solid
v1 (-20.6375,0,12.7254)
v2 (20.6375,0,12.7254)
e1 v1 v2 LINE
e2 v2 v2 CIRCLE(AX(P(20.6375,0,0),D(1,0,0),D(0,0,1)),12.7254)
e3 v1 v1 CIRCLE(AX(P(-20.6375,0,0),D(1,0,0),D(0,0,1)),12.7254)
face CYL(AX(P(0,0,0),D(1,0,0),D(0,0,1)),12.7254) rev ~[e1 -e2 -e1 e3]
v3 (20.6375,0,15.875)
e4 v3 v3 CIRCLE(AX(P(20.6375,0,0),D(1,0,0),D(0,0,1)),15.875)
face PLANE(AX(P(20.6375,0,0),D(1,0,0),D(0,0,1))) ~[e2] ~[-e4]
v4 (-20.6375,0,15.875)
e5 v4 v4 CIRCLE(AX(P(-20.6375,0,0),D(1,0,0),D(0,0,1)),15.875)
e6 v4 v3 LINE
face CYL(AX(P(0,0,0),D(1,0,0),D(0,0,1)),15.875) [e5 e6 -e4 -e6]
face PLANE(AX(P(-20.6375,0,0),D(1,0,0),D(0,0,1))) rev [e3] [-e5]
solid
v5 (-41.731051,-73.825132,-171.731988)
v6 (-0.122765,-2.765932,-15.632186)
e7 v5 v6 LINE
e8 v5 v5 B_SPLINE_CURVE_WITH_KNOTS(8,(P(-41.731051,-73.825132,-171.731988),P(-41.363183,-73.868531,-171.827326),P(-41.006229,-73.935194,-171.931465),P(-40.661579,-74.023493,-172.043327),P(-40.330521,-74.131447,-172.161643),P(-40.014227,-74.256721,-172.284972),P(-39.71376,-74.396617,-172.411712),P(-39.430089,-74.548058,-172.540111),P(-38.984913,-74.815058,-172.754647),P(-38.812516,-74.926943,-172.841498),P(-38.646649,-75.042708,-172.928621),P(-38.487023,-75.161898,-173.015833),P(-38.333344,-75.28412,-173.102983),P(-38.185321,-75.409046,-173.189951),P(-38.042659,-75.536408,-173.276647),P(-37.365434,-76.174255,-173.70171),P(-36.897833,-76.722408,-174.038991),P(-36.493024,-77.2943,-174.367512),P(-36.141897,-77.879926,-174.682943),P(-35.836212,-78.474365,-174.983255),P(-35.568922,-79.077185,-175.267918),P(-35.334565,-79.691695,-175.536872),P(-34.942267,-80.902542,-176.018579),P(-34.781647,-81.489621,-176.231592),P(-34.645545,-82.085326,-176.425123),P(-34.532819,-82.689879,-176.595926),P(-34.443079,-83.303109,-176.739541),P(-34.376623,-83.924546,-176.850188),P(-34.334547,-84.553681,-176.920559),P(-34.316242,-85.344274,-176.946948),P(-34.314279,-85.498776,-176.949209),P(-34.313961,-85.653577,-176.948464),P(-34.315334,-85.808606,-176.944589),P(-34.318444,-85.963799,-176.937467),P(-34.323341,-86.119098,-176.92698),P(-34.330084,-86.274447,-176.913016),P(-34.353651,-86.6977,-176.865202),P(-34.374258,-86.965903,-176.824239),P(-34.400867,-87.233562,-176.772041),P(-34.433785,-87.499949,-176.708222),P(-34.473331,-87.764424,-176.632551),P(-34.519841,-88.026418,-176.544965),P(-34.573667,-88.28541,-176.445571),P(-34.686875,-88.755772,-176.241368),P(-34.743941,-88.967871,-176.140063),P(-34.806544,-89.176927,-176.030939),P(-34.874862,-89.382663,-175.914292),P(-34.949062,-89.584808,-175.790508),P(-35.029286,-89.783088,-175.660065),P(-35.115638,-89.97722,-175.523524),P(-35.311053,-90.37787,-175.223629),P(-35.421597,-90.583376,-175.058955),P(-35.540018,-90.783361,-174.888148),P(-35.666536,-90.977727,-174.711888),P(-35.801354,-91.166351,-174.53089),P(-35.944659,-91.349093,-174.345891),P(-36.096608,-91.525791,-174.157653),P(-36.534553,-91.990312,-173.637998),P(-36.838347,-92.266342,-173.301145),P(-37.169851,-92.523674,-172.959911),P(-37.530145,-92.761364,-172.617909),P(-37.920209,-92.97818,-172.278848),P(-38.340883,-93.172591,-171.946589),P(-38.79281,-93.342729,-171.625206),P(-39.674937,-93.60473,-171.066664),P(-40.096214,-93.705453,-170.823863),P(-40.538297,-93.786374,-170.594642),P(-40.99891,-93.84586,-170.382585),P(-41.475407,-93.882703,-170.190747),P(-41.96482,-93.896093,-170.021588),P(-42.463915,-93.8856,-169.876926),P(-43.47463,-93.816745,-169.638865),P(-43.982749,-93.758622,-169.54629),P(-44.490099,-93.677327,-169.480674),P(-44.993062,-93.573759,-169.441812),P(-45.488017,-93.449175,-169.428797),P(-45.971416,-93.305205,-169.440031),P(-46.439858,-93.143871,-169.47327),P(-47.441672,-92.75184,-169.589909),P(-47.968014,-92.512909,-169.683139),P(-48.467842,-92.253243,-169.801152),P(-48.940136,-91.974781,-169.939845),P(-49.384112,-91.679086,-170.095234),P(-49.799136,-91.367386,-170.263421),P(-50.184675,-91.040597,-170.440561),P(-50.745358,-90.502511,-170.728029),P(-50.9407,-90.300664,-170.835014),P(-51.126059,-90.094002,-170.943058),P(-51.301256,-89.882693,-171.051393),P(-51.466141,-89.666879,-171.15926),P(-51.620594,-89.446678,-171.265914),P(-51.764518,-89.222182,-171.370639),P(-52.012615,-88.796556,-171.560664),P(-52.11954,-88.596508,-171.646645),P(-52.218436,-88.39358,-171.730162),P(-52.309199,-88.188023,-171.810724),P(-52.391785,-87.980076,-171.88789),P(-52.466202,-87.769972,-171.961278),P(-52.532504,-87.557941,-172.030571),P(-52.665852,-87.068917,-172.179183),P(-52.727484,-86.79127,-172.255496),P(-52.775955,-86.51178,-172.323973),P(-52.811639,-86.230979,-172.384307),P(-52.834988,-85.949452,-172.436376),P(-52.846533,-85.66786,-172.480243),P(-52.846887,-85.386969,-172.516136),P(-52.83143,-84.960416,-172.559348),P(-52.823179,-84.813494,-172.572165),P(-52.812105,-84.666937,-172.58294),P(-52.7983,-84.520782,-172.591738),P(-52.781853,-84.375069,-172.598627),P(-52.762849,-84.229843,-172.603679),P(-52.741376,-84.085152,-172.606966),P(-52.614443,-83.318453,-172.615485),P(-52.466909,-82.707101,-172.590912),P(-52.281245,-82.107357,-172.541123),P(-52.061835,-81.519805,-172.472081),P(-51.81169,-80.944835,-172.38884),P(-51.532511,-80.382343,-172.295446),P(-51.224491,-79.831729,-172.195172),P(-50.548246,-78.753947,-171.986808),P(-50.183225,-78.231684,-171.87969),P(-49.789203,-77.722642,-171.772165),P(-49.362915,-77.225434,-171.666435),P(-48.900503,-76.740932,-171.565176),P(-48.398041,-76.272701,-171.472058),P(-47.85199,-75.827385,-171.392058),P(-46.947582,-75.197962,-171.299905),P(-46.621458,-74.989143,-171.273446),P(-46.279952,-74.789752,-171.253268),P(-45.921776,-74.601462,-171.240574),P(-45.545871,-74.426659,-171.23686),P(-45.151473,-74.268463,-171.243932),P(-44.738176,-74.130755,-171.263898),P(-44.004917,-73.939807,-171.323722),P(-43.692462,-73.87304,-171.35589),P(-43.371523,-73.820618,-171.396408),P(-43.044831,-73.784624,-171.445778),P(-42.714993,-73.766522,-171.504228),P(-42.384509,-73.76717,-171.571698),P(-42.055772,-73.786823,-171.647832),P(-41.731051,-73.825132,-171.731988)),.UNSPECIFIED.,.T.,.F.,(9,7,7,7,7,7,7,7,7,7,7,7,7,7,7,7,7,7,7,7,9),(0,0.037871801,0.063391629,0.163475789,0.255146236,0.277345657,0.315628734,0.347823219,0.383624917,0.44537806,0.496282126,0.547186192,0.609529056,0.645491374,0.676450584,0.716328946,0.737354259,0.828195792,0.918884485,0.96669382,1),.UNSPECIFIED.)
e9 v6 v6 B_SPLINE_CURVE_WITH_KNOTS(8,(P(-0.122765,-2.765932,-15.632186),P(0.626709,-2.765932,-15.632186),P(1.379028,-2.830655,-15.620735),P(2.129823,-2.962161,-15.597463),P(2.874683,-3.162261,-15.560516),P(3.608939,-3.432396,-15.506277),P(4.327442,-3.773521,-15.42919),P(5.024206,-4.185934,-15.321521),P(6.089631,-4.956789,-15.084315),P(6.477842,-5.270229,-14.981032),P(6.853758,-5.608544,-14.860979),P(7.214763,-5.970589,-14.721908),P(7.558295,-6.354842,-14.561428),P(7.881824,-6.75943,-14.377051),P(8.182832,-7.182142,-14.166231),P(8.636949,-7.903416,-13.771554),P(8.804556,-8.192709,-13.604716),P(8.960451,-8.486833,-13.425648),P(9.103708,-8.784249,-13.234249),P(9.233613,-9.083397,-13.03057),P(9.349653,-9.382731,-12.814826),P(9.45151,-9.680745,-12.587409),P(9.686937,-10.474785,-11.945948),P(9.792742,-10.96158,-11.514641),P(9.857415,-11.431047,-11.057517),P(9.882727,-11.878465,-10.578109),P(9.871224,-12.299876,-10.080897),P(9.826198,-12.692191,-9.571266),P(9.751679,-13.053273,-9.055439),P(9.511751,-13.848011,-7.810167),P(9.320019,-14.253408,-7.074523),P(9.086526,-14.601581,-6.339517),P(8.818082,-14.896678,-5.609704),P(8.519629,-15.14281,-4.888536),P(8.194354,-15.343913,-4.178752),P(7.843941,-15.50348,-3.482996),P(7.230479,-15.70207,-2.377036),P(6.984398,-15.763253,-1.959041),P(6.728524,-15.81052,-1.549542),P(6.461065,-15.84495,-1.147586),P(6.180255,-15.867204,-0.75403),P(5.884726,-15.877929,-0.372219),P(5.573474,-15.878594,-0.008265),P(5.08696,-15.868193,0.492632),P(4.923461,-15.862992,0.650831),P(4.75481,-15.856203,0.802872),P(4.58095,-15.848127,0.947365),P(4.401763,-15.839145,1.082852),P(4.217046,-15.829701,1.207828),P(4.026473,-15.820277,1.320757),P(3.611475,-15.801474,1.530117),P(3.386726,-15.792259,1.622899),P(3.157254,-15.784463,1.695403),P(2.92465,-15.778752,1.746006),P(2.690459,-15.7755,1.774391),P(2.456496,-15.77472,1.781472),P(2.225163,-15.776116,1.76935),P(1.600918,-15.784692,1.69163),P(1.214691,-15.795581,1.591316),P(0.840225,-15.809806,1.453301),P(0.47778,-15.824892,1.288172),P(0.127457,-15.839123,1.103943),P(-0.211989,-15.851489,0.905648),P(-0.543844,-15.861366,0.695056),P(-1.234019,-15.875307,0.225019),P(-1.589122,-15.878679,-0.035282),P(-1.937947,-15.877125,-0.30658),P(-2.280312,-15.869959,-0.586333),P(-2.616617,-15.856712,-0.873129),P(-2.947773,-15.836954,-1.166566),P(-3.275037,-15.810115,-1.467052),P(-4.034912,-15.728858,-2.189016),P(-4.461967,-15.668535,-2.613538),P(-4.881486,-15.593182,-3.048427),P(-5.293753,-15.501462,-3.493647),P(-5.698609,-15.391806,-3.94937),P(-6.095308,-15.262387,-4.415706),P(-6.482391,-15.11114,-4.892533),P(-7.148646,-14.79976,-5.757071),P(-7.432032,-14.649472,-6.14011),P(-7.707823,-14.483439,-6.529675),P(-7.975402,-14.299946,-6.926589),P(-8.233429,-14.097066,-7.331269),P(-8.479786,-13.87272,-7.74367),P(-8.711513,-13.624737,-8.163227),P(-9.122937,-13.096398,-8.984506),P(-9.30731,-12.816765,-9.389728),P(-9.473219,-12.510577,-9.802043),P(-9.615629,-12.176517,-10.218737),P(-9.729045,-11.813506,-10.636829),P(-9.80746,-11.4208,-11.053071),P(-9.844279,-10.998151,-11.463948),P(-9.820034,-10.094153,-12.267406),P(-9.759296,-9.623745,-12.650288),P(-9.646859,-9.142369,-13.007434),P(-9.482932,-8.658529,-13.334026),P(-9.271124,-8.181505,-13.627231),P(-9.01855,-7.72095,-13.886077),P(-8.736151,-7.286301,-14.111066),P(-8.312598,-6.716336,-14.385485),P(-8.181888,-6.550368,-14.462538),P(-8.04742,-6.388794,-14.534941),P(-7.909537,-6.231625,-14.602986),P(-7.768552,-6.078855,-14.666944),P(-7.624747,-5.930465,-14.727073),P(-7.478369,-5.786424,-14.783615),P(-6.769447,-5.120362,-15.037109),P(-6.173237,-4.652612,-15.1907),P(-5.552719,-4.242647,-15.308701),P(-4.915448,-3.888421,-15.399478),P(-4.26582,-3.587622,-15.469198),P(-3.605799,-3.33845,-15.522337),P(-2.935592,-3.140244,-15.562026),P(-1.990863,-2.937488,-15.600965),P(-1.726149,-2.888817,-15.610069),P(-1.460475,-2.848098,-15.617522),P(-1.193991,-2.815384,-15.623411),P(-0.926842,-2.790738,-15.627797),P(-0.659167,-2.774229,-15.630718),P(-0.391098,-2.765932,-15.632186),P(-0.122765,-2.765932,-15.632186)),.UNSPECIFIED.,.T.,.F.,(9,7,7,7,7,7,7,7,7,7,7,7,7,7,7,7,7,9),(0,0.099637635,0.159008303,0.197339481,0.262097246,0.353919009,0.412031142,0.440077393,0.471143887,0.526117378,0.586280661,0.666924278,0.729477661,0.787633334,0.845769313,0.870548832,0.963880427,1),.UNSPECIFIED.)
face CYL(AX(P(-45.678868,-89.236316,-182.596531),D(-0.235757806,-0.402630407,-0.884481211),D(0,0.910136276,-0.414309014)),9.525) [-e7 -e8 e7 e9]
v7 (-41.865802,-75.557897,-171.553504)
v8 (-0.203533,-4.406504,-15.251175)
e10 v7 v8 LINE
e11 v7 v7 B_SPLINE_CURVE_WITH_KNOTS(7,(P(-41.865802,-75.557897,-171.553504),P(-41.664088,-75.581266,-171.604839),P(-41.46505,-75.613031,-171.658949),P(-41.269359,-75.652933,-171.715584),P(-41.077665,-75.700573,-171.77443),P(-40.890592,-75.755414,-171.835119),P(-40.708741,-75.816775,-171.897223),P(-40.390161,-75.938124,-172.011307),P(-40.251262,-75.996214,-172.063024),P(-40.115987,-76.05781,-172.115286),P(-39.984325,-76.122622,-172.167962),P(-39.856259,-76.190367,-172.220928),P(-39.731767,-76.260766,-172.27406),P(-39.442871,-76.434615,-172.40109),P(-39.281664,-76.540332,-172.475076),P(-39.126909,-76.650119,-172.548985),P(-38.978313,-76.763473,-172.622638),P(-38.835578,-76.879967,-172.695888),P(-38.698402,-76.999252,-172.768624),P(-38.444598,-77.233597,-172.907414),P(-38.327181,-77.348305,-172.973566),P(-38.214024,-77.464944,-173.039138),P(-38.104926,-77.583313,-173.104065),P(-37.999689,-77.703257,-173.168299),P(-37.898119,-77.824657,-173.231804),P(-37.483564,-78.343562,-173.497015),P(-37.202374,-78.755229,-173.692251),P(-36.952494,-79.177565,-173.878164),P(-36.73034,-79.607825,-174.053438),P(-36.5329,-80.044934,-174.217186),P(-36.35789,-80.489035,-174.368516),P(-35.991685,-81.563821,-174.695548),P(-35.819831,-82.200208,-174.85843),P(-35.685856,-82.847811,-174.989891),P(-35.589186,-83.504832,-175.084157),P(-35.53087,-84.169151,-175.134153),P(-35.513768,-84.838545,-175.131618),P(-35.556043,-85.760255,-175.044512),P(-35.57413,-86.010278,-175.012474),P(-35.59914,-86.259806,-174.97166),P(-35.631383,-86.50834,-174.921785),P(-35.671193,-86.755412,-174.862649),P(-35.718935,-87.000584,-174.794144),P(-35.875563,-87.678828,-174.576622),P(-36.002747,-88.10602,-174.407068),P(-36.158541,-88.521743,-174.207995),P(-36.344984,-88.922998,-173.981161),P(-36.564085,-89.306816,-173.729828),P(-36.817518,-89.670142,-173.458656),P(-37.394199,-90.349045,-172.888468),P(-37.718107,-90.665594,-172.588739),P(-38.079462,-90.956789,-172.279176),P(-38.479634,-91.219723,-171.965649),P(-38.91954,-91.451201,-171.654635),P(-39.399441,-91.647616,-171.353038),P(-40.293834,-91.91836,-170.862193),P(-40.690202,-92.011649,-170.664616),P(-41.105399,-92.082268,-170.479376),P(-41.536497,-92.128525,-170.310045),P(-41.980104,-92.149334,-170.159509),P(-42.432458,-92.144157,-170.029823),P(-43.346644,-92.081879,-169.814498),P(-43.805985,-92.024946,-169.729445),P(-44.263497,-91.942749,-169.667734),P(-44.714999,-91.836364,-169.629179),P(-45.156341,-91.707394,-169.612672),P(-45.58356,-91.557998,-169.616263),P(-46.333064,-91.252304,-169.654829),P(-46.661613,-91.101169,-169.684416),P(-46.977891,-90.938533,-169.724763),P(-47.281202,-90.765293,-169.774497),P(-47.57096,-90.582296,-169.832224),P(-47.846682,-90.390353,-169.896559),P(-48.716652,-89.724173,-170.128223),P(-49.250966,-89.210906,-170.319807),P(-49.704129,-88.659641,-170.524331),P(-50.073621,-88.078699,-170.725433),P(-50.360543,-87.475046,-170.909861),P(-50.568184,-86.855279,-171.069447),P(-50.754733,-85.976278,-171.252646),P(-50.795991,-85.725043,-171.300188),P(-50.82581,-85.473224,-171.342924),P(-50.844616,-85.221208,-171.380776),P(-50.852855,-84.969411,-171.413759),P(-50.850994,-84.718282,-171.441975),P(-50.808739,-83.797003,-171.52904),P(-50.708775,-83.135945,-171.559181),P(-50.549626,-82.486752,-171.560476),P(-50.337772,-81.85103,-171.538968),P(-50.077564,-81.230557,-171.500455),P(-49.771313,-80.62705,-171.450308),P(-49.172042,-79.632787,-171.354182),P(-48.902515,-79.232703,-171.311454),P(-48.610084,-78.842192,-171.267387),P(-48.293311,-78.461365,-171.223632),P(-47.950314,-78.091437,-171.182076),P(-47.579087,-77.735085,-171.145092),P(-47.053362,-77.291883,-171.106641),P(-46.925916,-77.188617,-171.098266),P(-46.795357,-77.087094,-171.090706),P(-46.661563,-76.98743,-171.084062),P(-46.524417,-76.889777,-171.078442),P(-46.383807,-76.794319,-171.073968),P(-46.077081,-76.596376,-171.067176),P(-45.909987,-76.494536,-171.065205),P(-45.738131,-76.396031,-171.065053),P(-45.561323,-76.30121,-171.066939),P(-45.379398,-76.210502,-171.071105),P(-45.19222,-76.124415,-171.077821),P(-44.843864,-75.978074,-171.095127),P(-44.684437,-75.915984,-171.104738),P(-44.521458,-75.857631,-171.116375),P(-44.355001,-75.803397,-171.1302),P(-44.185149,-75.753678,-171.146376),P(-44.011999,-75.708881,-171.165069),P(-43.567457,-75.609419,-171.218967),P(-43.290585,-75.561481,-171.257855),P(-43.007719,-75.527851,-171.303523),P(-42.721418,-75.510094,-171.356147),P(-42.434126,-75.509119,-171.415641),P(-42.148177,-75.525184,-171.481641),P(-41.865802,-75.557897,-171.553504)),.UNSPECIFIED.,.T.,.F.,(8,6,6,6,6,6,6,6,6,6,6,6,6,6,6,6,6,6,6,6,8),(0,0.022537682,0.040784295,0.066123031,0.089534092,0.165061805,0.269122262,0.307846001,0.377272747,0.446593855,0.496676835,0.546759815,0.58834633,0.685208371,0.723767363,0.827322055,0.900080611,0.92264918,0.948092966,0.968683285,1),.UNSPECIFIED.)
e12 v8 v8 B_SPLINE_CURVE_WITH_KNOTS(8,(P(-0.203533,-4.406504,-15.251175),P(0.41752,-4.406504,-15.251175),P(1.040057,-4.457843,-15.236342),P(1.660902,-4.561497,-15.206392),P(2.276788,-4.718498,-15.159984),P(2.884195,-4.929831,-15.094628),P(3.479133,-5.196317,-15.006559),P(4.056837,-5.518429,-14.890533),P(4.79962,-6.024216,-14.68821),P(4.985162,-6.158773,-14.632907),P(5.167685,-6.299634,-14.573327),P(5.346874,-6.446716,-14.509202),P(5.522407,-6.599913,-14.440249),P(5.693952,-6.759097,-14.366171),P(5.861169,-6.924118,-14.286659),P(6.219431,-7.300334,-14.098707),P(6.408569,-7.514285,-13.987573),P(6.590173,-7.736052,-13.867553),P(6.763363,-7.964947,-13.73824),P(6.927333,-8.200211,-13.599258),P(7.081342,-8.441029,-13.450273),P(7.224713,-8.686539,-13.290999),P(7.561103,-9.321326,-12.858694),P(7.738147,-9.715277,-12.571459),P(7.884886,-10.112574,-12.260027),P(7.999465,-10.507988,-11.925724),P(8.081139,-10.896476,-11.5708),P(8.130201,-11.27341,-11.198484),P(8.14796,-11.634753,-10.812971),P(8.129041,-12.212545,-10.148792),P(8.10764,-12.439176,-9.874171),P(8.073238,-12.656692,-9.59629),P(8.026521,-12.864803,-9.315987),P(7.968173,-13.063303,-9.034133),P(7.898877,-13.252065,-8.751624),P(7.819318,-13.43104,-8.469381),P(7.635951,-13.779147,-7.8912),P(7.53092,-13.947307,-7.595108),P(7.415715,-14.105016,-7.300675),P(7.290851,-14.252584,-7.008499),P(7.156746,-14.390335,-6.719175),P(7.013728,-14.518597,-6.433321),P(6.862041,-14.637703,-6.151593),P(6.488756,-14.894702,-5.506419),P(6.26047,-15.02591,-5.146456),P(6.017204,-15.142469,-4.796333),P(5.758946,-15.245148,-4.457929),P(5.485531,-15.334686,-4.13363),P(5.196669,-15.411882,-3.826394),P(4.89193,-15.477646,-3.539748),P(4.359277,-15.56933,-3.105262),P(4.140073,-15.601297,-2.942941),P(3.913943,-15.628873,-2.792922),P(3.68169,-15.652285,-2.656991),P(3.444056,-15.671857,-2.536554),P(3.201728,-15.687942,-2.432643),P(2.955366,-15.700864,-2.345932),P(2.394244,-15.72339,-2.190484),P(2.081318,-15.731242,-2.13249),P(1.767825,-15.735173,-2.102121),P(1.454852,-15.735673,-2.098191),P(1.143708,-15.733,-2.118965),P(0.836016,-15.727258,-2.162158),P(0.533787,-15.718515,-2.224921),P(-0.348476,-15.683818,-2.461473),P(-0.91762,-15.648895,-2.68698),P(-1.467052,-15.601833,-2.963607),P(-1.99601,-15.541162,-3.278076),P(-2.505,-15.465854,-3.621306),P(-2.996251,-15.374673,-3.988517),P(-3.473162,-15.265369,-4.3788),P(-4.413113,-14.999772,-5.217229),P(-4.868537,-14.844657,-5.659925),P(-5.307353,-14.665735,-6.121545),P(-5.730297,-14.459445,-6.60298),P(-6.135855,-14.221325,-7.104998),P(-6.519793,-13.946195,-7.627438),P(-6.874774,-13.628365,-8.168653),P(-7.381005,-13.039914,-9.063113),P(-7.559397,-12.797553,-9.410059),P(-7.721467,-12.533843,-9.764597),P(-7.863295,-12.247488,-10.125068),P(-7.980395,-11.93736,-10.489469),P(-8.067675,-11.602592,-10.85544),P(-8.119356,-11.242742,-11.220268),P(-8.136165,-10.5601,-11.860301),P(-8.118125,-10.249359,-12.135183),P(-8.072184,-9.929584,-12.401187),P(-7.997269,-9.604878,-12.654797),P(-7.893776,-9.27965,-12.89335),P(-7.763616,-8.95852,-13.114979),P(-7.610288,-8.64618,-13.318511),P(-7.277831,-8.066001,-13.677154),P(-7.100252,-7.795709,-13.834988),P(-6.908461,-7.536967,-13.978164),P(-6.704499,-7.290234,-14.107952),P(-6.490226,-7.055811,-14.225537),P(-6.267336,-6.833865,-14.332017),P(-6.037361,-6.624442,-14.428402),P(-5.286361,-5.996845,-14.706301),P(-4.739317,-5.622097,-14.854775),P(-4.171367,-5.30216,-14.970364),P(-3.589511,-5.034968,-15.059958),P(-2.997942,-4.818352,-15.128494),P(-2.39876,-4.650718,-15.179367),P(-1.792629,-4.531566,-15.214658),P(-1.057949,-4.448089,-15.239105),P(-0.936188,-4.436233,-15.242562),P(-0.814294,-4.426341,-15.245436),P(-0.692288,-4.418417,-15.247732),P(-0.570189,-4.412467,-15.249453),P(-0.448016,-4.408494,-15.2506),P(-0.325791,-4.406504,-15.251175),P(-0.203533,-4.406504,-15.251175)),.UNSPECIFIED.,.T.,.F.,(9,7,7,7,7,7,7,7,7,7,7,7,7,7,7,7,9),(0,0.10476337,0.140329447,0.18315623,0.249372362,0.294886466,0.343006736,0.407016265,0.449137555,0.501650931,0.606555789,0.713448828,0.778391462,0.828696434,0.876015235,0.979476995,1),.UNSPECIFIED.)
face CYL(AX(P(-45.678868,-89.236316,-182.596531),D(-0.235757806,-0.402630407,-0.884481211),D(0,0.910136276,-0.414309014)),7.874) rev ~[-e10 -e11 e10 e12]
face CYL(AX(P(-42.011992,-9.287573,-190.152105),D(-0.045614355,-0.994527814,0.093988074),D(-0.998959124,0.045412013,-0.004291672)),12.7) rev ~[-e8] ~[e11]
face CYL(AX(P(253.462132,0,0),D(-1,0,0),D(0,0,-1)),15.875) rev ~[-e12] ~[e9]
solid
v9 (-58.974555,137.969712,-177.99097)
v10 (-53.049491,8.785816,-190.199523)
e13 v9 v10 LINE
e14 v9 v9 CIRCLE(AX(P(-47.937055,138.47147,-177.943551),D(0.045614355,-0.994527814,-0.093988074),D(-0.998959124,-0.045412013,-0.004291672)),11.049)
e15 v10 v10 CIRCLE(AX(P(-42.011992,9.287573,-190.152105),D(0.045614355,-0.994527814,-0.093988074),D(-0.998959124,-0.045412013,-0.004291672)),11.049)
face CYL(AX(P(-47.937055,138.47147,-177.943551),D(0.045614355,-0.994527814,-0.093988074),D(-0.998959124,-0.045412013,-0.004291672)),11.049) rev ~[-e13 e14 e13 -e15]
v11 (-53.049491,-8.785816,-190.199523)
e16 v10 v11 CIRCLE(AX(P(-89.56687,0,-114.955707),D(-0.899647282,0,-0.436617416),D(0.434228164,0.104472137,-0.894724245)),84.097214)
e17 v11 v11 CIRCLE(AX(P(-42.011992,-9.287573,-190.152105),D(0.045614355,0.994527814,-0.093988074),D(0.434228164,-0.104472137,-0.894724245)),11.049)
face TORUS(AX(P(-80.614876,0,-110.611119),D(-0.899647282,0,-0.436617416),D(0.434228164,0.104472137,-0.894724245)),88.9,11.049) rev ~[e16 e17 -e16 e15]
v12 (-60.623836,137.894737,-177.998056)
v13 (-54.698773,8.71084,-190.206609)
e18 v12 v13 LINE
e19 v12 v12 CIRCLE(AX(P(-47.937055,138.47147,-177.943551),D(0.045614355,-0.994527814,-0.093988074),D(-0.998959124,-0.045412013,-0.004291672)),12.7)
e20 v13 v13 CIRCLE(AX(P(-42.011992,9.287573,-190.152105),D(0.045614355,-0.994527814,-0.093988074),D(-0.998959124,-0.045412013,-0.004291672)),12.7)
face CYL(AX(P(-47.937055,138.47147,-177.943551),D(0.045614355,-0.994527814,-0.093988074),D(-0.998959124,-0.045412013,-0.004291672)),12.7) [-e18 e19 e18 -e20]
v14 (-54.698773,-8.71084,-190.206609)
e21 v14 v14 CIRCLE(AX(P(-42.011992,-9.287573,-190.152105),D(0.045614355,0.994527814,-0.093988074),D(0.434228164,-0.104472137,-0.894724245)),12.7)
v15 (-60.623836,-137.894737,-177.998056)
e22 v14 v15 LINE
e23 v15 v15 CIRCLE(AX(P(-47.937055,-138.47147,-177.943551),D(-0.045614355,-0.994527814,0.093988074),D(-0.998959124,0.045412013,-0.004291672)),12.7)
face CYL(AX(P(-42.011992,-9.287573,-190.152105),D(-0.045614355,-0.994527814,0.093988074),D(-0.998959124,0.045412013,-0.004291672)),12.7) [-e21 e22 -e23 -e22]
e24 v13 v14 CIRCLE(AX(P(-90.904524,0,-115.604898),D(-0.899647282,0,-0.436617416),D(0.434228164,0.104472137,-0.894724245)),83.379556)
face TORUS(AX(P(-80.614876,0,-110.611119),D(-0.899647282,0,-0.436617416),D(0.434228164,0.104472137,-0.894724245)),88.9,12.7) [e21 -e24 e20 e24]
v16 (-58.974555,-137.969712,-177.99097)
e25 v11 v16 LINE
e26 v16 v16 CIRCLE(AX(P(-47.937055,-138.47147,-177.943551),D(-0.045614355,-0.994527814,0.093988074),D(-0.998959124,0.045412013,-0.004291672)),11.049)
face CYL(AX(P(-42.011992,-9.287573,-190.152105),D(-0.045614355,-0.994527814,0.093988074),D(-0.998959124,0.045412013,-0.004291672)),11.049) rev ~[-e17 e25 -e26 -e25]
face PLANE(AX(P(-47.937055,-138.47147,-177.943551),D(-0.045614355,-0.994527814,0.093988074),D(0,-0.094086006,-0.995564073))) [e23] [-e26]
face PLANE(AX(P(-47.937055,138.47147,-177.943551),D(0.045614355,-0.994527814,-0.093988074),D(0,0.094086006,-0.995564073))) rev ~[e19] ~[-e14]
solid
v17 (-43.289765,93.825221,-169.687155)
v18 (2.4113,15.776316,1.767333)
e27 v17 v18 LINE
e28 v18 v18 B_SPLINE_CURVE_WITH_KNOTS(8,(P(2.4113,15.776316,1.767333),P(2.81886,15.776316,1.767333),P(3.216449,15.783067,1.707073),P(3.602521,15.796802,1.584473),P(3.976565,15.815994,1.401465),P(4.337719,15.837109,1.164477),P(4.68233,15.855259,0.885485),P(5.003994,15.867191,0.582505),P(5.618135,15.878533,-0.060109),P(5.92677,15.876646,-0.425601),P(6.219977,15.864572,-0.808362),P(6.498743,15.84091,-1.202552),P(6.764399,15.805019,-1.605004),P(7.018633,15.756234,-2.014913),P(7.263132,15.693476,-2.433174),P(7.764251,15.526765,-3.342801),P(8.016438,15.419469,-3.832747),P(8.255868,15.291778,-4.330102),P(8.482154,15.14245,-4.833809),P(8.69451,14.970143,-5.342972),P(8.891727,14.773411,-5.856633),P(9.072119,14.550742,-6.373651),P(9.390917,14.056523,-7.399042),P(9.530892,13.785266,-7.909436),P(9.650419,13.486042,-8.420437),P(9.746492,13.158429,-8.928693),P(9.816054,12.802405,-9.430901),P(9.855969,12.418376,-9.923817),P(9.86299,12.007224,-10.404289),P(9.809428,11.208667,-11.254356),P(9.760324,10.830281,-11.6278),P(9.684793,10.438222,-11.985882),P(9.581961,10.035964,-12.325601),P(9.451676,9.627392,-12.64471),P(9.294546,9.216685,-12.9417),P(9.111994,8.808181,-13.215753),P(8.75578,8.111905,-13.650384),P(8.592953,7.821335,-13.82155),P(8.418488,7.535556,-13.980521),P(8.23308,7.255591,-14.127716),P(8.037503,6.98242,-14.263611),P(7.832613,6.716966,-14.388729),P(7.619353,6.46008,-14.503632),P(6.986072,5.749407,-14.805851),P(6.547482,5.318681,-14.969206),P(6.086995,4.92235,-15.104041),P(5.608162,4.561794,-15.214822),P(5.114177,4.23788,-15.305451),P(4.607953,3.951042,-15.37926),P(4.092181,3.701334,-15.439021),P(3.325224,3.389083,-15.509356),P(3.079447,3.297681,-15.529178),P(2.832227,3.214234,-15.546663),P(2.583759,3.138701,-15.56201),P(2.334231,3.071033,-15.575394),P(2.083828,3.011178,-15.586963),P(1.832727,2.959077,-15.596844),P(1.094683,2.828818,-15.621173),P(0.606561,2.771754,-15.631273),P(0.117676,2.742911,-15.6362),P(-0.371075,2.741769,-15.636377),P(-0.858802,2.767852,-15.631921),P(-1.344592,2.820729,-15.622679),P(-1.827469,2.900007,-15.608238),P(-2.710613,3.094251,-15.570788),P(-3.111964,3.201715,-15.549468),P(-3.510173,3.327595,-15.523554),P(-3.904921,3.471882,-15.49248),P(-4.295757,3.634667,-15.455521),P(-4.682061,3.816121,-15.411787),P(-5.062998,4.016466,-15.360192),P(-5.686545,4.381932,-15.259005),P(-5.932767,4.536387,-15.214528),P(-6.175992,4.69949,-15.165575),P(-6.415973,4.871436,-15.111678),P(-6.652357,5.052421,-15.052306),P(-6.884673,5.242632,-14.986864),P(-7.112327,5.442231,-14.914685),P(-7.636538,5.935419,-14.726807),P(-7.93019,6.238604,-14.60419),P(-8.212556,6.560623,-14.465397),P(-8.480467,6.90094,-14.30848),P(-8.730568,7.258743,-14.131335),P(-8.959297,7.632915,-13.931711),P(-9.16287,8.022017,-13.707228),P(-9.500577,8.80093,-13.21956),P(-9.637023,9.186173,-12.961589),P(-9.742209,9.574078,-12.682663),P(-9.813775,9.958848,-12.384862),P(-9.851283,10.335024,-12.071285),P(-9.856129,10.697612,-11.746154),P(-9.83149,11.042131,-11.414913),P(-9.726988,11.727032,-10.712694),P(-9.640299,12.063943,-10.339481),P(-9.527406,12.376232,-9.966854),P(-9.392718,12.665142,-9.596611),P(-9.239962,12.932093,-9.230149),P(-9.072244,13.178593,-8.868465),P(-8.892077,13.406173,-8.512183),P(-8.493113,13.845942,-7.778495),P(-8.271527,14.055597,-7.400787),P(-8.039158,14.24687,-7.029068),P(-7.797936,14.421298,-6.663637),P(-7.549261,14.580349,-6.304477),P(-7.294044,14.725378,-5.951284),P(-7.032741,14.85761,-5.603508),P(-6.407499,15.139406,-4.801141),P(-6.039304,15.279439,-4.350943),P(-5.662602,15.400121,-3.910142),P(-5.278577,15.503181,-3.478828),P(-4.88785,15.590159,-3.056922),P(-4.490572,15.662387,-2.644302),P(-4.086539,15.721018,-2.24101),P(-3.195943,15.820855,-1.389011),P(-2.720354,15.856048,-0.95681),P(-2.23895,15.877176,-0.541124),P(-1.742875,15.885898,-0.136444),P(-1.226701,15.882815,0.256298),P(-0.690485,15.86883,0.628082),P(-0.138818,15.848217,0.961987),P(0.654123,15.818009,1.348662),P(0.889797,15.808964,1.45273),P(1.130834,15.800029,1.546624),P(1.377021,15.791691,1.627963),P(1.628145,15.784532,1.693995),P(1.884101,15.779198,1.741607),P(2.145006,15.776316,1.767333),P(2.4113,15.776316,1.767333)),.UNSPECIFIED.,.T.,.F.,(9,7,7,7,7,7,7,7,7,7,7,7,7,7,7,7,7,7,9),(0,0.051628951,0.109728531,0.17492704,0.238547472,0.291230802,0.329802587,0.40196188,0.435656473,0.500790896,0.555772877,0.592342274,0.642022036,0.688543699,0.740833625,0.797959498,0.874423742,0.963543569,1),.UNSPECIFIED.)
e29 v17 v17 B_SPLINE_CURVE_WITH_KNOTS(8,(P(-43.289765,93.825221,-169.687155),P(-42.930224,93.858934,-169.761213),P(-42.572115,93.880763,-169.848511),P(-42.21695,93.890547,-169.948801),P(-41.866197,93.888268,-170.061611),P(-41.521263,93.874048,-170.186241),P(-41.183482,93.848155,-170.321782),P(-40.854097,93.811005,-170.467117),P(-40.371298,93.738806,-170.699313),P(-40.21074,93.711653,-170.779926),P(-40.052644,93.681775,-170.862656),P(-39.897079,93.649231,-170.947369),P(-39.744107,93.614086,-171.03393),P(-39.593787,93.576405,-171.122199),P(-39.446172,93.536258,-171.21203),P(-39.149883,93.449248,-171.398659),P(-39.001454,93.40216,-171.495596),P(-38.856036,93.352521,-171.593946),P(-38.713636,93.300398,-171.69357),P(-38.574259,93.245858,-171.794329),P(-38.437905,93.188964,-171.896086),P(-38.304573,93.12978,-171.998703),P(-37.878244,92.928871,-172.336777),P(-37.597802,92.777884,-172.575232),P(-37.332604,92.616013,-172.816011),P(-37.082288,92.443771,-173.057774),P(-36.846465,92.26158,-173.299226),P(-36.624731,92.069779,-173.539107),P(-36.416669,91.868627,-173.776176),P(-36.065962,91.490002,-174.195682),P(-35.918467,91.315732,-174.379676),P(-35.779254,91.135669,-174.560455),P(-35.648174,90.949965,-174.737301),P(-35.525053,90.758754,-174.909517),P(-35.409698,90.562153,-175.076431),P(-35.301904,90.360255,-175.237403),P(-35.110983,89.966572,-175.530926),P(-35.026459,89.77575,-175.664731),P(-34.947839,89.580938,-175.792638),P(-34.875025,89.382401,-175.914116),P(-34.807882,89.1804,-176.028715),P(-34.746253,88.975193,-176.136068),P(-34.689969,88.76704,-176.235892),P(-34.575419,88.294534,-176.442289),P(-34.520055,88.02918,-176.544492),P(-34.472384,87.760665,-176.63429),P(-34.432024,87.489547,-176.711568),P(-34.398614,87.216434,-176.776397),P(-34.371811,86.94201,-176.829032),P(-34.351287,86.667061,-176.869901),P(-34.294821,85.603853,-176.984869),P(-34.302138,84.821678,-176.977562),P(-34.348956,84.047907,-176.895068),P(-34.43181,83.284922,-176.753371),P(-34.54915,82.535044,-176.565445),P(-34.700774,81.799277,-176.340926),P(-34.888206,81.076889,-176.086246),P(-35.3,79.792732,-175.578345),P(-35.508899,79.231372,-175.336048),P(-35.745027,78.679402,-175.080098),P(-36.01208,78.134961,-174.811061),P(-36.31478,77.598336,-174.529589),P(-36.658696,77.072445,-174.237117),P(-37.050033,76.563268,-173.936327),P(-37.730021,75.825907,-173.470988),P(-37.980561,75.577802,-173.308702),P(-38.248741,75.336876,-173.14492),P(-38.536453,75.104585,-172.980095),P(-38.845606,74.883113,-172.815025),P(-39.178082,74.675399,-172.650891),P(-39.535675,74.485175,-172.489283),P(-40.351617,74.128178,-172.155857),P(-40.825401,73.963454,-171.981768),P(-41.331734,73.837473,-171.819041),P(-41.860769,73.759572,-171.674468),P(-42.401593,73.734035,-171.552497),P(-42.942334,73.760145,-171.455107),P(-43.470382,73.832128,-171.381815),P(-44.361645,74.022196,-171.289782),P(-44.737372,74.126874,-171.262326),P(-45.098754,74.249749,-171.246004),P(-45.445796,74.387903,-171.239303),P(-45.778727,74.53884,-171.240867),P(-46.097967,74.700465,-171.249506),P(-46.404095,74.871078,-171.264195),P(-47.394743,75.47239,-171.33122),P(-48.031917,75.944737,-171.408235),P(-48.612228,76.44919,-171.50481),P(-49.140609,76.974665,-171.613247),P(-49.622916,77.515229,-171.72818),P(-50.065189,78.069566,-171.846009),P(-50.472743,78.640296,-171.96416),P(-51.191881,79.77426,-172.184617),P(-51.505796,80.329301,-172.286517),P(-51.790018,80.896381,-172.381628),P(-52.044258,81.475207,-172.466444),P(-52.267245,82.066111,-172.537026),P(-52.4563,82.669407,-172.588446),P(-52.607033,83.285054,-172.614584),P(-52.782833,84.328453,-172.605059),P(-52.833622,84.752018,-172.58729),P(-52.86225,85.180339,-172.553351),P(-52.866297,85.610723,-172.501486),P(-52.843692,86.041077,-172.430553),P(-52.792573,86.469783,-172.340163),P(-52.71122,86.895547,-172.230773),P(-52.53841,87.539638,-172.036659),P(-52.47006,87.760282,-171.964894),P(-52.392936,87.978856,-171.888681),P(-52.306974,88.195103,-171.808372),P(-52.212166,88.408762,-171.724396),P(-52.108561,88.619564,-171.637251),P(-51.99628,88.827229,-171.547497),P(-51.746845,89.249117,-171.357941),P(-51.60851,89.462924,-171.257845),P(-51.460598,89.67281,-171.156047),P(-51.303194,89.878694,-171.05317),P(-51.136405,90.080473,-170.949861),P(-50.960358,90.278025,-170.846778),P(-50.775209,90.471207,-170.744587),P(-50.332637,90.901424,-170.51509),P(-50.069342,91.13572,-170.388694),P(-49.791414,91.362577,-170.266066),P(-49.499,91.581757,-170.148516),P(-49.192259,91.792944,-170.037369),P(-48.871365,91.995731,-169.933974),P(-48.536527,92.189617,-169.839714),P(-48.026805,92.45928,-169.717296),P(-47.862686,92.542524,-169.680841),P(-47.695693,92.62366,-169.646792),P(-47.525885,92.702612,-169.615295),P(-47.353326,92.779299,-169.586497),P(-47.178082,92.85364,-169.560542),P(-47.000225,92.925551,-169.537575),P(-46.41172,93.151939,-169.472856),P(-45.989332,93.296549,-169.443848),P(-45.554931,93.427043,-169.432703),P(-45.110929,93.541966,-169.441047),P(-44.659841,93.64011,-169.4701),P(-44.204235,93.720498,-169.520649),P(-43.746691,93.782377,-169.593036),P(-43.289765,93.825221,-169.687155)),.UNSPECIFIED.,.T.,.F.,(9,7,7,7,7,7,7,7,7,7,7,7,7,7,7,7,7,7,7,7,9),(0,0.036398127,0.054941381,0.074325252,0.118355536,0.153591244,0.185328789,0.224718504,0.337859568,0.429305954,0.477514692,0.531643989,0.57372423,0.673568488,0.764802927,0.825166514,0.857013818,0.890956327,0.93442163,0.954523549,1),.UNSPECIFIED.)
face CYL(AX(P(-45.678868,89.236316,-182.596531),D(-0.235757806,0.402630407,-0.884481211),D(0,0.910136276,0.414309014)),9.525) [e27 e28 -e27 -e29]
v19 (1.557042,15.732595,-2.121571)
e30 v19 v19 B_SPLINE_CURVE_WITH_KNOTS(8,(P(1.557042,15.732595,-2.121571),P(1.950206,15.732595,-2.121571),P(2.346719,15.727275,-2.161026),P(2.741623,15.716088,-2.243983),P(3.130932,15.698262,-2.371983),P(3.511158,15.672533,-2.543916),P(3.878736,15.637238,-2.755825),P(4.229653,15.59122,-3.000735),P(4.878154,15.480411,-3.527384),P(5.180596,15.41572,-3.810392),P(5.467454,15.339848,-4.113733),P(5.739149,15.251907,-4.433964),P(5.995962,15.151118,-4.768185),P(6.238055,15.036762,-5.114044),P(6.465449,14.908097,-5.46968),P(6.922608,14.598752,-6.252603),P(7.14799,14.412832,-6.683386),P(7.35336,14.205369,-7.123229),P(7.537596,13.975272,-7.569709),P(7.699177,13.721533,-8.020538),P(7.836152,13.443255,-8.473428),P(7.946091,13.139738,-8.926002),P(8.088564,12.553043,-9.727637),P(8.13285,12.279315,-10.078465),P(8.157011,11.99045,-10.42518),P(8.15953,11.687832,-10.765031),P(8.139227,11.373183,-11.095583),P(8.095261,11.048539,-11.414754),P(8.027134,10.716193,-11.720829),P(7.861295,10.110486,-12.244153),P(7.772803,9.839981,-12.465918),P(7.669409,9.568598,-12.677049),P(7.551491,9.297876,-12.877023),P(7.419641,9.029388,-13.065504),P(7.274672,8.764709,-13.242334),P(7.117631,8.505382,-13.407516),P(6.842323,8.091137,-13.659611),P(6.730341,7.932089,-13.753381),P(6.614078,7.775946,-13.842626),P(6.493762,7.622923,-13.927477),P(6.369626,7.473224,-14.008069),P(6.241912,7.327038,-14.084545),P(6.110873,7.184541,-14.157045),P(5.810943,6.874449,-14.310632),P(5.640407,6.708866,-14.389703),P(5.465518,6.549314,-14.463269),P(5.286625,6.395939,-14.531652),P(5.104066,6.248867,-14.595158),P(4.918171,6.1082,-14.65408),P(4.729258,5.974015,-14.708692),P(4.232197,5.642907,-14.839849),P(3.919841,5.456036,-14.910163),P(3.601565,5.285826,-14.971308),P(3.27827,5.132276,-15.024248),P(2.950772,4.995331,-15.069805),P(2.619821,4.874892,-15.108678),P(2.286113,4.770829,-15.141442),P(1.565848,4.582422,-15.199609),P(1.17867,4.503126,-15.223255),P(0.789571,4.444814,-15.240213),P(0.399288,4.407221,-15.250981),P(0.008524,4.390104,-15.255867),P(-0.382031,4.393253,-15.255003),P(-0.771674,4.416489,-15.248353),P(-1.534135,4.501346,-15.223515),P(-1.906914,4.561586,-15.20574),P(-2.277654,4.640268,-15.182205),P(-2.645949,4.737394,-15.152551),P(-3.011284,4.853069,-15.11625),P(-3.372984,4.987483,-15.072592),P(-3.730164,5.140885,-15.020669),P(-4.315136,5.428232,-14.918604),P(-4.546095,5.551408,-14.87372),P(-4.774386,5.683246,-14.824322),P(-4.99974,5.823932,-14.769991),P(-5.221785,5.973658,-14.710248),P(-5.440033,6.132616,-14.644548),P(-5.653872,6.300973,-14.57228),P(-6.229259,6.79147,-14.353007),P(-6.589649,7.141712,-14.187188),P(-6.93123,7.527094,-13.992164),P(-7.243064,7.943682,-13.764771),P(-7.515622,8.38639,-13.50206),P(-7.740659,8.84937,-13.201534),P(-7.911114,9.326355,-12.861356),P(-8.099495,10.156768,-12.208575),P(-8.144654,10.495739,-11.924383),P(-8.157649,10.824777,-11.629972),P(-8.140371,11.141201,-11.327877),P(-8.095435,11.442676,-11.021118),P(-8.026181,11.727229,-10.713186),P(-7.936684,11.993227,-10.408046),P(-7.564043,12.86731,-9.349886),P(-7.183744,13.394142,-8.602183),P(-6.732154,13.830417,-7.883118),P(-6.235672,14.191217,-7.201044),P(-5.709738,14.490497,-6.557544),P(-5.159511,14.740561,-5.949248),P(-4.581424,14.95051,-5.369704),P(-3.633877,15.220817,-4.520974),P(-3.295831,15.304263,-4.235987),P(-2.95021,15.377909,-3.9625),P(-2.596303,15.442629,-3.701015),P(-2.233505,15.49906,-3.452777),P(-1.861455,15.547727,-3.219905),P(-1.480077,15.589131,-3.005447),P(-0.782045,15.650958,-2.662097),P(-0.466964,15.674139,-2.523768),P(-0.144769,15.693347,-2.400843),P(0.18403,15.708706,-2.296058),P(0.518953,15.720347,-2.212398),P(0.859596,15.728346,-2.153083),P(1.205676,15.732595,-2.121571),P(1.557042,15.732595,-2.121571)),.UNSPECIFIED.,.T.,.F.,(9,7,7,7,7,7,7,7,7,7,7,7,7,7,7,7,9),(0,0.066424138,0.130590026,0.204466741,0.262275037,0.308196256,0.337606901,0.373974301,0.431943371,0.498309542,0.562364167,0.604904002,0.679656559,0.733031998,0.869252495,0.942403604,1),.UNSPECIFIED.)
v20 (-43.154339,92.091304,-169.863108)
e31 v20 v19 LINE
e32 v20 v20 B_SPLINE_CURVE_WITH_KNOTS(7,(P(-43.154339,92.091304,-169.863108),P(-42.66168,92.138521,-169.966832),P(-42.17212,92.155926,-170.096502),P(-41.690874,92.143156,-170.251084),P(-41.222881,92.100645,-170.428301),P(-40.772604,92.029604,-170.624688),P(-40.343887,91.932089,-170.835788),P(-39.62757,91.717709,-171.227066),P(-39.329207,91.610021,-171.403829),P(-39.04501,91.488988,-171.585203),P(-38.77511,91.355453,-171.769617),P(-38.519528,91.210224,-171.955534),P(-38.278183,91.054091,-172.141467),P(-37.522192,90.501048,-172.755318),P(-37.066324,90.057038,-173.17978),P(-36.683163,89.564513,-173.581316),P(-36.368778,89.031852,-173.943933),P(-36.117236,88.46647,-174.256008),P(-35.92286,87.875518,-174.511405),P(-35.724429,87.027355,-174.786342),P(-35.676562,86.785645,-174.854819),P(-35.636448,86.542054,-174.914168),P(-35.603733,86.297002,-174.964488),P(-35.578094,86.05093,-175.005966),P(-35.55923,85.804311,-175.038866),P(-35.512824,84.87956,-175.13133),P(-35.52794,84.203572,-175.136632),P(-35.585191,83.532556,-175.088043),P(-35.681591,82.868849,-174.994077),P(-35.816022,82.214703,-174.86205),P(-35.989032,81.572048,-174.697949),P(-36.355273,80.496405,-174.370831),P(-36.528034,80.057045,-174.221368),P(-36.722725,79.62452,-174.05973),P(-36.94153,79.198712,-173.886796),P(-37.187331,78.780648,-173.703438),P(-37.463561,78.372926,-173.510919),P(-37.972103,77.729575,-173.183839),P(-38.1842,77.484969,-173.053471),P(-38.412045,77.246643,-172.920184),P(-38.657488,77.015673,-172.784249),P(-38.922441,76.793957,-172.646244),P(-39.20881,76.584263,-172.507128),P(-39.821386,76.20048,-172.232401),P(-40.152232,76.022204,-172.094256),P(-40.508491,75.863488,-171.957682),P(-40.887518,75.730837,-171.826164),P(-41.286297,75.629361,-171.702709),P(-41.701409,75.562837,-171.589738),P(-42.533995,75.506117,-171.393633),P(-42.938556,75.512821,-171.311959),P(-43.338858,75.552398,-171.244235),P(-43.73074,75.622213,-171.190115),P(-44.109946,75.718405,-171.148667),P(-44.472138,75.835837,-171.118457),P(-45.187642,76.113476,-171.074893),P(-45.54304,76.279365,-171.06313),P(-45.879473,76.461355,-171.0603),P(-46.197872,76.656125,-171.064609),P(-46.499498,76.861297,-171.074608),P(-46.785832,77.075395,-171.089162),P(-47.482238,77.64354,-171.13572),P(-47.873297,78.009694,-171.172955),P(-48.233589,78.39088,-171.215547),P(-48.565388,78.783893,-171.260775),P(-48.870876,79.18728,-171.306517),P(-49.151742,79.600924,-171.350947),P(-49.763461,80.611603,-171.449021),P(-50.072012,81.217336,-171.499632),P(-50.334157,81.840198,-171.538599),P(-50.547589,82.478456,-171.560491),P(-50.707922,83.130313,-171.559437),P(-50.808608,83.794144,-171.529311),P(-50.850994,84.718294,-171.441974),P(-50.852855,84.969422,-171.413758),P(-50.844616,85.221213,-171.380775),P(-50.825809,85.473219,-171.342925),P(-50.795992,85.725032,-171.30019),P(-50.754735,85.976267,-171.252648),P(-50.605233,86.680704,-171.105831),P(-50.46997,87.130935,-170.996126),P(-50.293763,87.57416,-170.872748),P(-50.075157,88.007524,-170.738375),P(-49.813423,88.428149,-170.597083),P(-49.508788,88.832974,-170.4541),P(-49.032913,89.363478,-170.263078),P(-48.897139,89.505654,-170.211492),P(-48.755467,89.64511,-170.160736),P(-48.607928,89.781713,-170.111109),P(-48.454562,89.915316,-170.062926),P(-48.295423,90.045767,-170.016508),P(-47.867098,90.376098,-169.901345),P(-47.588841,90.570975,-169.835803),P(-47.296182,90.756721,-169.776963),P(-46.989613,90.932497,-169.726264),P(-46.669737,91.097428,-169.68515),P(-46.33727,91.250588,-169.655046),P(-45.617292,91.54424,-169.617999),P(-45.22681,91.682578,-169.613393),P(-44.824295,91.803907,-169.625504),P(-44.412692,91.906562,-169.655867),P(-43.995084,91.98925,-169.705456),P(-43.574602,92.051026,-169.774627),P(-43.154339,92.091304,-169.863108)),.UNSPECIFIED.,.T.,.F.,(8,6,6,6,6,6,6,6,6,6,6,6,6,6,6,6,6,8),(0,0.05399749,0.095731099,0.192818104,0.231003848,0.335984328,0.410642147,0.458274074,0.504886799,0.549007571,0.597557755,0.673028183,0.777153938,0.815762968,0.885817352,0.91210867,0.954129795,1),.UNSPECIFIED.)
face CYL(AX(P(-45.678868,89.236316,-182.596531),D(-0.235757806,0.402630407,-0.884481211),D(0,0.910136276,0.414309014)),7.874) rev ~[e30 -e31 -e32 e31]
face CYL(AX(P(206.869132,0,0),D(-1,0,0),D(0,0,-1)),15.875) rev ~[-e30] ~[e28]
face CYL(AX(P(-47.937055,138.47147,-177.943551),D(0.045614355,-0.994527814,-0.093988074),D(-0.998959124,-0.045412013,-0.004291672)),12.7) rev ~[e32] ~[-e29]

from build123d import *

# Parameters (mm, degrees)
SKETCH6_W                = 41.275
SKETCH6_H                = 3.1496
BOSS_EXTRUDE1_REACH      = 236.173
BOSS_EXTRUDE1_END_RADIUS = 15.875
SKETCH10_R               = 9.525
SKETCH10_R_2             = 7.874
BOSS_EXTRUDE2_REACH      = 282.766
BOSS_EXTRUDE2_END_RADIUS = 15.875
SKETCH11_R               = 9.525
SKETCH11_R_2             = 7.874
SKETCH12_R               = 12.7
SKETCH15_R               = 12.7
SKETCH15_R_2             = 11.049


with BuildPart() as part:
    # Sketch6 → Revolve2 (revolve)
    with BuildSketch(Plane(origin=(0, 0, 0), x_dir=(1, 0, 0), z_dir=(0, 1, 0)), mode=Mode.PRIVATE) as revolve2_sk:
        with Locations((0, 14.3002)):
            Rectangle(SKETCH6_W, SKETCH6_H)
    revolve(revolve2_sk.sketch.rotate(Axis((-66.78681796, 0, 0), (1, 0, 0)), 180), axis=Axis((-66.78681796, 0, 0), (1, 0, 0)))


with BuildPart() as body_2:
    # Boss-Extrude1: up to this cylinder (the profile starts outside it)
    boss_extrude1_end = Plane(origin=(-45.678868, 0, 0), z_dir=(-1, 0, 0)) * Cylinder(BOSS_EXTRUDE1_END_RADIUS, 505.096, mode=Mode.PRIVATE)
    # Sketch10 → Boss-Extrude1 (new, up to the surface)
    with BuildSketch(Plane(origin=(-45.678868166, 89.236316096, -182.596530613), x_dir=(-0.9718118422845564, -0.09767658435659733, 0.21457173174471317), z_dir=(-0.23575780622388015, 0.40263040665345673, -0.8844812109042088)), mode=Mode.PRIVATE) as boss_extrude1_sk1:
        with Locations(Location((0, 0, 0), (0, 0, 90))):
            Circle(SKETCH10_R)
        with Locations(Location((0, 0, 0), (0, 0, 90))):
            Circle(SKETCH10_R_2, mode=Mode.SUBTRACT)
    boss_extrude1_tool1 = extrude(boss_extrude1_sk1.sketch, amount=-BOSS_EXTRUDE1_REACH, mode=Mode.PRIVATE) - boss_extrude1_end
    add(boss_extrude1_tool1.solids().sort_by_distance((-45.678868, 80.812466, -186.431206))[0])


with BuildPart() as body_3:
    # Boss-Extrude2: up to this cylinder (the profile starts outside it)
    boss_extrude2_end = Plane(origin=(-45.678868, 0, 0), z_dir=(-1, 0, 0)) * Cylinder(BOSS_EXTRUDE2_END_RADIUS, 598.282, mode=Mode.PRIVATE)
    # Sketch11 → Boss-Extrude2 (new, up to the surface)
    with BuildSketch(Plane(origin=(-45.678868166, -89.236316096, -182.596530613), x_dir=(-0.9718118422845564, 0.09767658435659739, 0.21457173174471303), z_dir=(-0.23575780622388004, -0.40263040665345723, -0.8844812109042086)), mode=Mode.PRIVATE) as boss_extrude2_sk1:
        with Locations(Location((0, 0, 0), (0, 0, 90))):
            Circle(SKETCH11_R)
        with Locations(Location((0, 0, 0), (0, 0, 90))):
            Circle(SKETCH11_R_2, mode=Mode.SUBTRACT)
    boss_extrude2_tool1 = extrude(boss_extrude2_sk1.sketch, amount=-BOSS_EXTRUDE2_REACH, mode=Mode.PRIVATE) - boss_extrude2_end
    add(boss_extrude2_tool1.solids().sort_by_distance((-45.678868, -97.660166, -178.761855))[0])


with BuildPart() as cut_sweep1_tool:
    # Cut-Sweep1: sweep along a curve in space
    with BuildLine() as cut_sweep1_path:
        Line((-47.937055144, 138.471469808, -177.943551359), (-42.011992023, 9.287572997, -190.152104526))
        ThreePointArc((-42.011992023, 9.287572997, -190.152104526), (-41.79958754, 0, -190.589762549), (-42.011992023, -9.287572997, -190.152104526))
        Line((-42.011992023, -9.287572997, -190.152104526), (-47.937055144, -138.471469808, -177.943551359))
    # Sketch12 → Cut-Sweep1 (sweep)
    with BuildSketch(Plane(origin=(-47.937055144, -138.471469808, -177.943551359), x_dir=(-0.9989591236170096, 0.045412012617268314, -0.004291672446182792), z_dir=(-0.045614354564503724, -0.9945278138635109, 0.09398807429418847))):
        Circle(SKETCH12_R)
    sweep(path=cut_sweep1_path.line)


with BuildPart() as body_2_1:
    add(body_2.part)

    # Cut-Sweep1: cut by cut_sweep1_tool
    add(cut_sweep1_tool.part, mode=Mode.SUBTRACT)


with BuildPart() as body_3_1:
    add(body_3.part)

    # Cut-Sweep1: cut by cut_sweep1_tool
    add(cut_sweep1_tool.part, mode=Mode.SUBTRACT)


with BuildPart() as body_4:
    # Sweep2: sweep along a path in Sketch14
    with BuildLine(Plane(origin=(-108.695110163, 0, -52.751982968), x_dir=(0.43661741575798063, 0, -0.8996472821371844), z_dir=(0.8996472821371844, 0, 0.43661741575798063))) as sweep2_path:
        Line((139.156279218, 138.471469808), (152.726656641, 9.287572997))
        ThreePointArc((152.726656641, 9.287572997), (153.213133989, 0), (152.726656641, -9.287572997))
        Line((152.726656641, -9.287572997), (139.156279218, -138.471469808))
    # Sketch15 → Sweep2 (sweep)
    with BuildSketch(Plane(origin=(-47.937055144, -138.471469808, -177.943551359), x_dir=(-0.9989591236170096, 0.045412012617268314, -0.004291672446182792), z_dir=(-0.045614354564503724, -0.9945278138635109, 0.09398807429418847))):
        Circle(SKETCH15_R)
        Circle(SKETCH15_R_2, mode=Mode.SUBTRACT)
    sweep(path=sweep2_path.line)


solid = Compound([part.part, body_2_1.part, body_3_1.part, body_4.part])
